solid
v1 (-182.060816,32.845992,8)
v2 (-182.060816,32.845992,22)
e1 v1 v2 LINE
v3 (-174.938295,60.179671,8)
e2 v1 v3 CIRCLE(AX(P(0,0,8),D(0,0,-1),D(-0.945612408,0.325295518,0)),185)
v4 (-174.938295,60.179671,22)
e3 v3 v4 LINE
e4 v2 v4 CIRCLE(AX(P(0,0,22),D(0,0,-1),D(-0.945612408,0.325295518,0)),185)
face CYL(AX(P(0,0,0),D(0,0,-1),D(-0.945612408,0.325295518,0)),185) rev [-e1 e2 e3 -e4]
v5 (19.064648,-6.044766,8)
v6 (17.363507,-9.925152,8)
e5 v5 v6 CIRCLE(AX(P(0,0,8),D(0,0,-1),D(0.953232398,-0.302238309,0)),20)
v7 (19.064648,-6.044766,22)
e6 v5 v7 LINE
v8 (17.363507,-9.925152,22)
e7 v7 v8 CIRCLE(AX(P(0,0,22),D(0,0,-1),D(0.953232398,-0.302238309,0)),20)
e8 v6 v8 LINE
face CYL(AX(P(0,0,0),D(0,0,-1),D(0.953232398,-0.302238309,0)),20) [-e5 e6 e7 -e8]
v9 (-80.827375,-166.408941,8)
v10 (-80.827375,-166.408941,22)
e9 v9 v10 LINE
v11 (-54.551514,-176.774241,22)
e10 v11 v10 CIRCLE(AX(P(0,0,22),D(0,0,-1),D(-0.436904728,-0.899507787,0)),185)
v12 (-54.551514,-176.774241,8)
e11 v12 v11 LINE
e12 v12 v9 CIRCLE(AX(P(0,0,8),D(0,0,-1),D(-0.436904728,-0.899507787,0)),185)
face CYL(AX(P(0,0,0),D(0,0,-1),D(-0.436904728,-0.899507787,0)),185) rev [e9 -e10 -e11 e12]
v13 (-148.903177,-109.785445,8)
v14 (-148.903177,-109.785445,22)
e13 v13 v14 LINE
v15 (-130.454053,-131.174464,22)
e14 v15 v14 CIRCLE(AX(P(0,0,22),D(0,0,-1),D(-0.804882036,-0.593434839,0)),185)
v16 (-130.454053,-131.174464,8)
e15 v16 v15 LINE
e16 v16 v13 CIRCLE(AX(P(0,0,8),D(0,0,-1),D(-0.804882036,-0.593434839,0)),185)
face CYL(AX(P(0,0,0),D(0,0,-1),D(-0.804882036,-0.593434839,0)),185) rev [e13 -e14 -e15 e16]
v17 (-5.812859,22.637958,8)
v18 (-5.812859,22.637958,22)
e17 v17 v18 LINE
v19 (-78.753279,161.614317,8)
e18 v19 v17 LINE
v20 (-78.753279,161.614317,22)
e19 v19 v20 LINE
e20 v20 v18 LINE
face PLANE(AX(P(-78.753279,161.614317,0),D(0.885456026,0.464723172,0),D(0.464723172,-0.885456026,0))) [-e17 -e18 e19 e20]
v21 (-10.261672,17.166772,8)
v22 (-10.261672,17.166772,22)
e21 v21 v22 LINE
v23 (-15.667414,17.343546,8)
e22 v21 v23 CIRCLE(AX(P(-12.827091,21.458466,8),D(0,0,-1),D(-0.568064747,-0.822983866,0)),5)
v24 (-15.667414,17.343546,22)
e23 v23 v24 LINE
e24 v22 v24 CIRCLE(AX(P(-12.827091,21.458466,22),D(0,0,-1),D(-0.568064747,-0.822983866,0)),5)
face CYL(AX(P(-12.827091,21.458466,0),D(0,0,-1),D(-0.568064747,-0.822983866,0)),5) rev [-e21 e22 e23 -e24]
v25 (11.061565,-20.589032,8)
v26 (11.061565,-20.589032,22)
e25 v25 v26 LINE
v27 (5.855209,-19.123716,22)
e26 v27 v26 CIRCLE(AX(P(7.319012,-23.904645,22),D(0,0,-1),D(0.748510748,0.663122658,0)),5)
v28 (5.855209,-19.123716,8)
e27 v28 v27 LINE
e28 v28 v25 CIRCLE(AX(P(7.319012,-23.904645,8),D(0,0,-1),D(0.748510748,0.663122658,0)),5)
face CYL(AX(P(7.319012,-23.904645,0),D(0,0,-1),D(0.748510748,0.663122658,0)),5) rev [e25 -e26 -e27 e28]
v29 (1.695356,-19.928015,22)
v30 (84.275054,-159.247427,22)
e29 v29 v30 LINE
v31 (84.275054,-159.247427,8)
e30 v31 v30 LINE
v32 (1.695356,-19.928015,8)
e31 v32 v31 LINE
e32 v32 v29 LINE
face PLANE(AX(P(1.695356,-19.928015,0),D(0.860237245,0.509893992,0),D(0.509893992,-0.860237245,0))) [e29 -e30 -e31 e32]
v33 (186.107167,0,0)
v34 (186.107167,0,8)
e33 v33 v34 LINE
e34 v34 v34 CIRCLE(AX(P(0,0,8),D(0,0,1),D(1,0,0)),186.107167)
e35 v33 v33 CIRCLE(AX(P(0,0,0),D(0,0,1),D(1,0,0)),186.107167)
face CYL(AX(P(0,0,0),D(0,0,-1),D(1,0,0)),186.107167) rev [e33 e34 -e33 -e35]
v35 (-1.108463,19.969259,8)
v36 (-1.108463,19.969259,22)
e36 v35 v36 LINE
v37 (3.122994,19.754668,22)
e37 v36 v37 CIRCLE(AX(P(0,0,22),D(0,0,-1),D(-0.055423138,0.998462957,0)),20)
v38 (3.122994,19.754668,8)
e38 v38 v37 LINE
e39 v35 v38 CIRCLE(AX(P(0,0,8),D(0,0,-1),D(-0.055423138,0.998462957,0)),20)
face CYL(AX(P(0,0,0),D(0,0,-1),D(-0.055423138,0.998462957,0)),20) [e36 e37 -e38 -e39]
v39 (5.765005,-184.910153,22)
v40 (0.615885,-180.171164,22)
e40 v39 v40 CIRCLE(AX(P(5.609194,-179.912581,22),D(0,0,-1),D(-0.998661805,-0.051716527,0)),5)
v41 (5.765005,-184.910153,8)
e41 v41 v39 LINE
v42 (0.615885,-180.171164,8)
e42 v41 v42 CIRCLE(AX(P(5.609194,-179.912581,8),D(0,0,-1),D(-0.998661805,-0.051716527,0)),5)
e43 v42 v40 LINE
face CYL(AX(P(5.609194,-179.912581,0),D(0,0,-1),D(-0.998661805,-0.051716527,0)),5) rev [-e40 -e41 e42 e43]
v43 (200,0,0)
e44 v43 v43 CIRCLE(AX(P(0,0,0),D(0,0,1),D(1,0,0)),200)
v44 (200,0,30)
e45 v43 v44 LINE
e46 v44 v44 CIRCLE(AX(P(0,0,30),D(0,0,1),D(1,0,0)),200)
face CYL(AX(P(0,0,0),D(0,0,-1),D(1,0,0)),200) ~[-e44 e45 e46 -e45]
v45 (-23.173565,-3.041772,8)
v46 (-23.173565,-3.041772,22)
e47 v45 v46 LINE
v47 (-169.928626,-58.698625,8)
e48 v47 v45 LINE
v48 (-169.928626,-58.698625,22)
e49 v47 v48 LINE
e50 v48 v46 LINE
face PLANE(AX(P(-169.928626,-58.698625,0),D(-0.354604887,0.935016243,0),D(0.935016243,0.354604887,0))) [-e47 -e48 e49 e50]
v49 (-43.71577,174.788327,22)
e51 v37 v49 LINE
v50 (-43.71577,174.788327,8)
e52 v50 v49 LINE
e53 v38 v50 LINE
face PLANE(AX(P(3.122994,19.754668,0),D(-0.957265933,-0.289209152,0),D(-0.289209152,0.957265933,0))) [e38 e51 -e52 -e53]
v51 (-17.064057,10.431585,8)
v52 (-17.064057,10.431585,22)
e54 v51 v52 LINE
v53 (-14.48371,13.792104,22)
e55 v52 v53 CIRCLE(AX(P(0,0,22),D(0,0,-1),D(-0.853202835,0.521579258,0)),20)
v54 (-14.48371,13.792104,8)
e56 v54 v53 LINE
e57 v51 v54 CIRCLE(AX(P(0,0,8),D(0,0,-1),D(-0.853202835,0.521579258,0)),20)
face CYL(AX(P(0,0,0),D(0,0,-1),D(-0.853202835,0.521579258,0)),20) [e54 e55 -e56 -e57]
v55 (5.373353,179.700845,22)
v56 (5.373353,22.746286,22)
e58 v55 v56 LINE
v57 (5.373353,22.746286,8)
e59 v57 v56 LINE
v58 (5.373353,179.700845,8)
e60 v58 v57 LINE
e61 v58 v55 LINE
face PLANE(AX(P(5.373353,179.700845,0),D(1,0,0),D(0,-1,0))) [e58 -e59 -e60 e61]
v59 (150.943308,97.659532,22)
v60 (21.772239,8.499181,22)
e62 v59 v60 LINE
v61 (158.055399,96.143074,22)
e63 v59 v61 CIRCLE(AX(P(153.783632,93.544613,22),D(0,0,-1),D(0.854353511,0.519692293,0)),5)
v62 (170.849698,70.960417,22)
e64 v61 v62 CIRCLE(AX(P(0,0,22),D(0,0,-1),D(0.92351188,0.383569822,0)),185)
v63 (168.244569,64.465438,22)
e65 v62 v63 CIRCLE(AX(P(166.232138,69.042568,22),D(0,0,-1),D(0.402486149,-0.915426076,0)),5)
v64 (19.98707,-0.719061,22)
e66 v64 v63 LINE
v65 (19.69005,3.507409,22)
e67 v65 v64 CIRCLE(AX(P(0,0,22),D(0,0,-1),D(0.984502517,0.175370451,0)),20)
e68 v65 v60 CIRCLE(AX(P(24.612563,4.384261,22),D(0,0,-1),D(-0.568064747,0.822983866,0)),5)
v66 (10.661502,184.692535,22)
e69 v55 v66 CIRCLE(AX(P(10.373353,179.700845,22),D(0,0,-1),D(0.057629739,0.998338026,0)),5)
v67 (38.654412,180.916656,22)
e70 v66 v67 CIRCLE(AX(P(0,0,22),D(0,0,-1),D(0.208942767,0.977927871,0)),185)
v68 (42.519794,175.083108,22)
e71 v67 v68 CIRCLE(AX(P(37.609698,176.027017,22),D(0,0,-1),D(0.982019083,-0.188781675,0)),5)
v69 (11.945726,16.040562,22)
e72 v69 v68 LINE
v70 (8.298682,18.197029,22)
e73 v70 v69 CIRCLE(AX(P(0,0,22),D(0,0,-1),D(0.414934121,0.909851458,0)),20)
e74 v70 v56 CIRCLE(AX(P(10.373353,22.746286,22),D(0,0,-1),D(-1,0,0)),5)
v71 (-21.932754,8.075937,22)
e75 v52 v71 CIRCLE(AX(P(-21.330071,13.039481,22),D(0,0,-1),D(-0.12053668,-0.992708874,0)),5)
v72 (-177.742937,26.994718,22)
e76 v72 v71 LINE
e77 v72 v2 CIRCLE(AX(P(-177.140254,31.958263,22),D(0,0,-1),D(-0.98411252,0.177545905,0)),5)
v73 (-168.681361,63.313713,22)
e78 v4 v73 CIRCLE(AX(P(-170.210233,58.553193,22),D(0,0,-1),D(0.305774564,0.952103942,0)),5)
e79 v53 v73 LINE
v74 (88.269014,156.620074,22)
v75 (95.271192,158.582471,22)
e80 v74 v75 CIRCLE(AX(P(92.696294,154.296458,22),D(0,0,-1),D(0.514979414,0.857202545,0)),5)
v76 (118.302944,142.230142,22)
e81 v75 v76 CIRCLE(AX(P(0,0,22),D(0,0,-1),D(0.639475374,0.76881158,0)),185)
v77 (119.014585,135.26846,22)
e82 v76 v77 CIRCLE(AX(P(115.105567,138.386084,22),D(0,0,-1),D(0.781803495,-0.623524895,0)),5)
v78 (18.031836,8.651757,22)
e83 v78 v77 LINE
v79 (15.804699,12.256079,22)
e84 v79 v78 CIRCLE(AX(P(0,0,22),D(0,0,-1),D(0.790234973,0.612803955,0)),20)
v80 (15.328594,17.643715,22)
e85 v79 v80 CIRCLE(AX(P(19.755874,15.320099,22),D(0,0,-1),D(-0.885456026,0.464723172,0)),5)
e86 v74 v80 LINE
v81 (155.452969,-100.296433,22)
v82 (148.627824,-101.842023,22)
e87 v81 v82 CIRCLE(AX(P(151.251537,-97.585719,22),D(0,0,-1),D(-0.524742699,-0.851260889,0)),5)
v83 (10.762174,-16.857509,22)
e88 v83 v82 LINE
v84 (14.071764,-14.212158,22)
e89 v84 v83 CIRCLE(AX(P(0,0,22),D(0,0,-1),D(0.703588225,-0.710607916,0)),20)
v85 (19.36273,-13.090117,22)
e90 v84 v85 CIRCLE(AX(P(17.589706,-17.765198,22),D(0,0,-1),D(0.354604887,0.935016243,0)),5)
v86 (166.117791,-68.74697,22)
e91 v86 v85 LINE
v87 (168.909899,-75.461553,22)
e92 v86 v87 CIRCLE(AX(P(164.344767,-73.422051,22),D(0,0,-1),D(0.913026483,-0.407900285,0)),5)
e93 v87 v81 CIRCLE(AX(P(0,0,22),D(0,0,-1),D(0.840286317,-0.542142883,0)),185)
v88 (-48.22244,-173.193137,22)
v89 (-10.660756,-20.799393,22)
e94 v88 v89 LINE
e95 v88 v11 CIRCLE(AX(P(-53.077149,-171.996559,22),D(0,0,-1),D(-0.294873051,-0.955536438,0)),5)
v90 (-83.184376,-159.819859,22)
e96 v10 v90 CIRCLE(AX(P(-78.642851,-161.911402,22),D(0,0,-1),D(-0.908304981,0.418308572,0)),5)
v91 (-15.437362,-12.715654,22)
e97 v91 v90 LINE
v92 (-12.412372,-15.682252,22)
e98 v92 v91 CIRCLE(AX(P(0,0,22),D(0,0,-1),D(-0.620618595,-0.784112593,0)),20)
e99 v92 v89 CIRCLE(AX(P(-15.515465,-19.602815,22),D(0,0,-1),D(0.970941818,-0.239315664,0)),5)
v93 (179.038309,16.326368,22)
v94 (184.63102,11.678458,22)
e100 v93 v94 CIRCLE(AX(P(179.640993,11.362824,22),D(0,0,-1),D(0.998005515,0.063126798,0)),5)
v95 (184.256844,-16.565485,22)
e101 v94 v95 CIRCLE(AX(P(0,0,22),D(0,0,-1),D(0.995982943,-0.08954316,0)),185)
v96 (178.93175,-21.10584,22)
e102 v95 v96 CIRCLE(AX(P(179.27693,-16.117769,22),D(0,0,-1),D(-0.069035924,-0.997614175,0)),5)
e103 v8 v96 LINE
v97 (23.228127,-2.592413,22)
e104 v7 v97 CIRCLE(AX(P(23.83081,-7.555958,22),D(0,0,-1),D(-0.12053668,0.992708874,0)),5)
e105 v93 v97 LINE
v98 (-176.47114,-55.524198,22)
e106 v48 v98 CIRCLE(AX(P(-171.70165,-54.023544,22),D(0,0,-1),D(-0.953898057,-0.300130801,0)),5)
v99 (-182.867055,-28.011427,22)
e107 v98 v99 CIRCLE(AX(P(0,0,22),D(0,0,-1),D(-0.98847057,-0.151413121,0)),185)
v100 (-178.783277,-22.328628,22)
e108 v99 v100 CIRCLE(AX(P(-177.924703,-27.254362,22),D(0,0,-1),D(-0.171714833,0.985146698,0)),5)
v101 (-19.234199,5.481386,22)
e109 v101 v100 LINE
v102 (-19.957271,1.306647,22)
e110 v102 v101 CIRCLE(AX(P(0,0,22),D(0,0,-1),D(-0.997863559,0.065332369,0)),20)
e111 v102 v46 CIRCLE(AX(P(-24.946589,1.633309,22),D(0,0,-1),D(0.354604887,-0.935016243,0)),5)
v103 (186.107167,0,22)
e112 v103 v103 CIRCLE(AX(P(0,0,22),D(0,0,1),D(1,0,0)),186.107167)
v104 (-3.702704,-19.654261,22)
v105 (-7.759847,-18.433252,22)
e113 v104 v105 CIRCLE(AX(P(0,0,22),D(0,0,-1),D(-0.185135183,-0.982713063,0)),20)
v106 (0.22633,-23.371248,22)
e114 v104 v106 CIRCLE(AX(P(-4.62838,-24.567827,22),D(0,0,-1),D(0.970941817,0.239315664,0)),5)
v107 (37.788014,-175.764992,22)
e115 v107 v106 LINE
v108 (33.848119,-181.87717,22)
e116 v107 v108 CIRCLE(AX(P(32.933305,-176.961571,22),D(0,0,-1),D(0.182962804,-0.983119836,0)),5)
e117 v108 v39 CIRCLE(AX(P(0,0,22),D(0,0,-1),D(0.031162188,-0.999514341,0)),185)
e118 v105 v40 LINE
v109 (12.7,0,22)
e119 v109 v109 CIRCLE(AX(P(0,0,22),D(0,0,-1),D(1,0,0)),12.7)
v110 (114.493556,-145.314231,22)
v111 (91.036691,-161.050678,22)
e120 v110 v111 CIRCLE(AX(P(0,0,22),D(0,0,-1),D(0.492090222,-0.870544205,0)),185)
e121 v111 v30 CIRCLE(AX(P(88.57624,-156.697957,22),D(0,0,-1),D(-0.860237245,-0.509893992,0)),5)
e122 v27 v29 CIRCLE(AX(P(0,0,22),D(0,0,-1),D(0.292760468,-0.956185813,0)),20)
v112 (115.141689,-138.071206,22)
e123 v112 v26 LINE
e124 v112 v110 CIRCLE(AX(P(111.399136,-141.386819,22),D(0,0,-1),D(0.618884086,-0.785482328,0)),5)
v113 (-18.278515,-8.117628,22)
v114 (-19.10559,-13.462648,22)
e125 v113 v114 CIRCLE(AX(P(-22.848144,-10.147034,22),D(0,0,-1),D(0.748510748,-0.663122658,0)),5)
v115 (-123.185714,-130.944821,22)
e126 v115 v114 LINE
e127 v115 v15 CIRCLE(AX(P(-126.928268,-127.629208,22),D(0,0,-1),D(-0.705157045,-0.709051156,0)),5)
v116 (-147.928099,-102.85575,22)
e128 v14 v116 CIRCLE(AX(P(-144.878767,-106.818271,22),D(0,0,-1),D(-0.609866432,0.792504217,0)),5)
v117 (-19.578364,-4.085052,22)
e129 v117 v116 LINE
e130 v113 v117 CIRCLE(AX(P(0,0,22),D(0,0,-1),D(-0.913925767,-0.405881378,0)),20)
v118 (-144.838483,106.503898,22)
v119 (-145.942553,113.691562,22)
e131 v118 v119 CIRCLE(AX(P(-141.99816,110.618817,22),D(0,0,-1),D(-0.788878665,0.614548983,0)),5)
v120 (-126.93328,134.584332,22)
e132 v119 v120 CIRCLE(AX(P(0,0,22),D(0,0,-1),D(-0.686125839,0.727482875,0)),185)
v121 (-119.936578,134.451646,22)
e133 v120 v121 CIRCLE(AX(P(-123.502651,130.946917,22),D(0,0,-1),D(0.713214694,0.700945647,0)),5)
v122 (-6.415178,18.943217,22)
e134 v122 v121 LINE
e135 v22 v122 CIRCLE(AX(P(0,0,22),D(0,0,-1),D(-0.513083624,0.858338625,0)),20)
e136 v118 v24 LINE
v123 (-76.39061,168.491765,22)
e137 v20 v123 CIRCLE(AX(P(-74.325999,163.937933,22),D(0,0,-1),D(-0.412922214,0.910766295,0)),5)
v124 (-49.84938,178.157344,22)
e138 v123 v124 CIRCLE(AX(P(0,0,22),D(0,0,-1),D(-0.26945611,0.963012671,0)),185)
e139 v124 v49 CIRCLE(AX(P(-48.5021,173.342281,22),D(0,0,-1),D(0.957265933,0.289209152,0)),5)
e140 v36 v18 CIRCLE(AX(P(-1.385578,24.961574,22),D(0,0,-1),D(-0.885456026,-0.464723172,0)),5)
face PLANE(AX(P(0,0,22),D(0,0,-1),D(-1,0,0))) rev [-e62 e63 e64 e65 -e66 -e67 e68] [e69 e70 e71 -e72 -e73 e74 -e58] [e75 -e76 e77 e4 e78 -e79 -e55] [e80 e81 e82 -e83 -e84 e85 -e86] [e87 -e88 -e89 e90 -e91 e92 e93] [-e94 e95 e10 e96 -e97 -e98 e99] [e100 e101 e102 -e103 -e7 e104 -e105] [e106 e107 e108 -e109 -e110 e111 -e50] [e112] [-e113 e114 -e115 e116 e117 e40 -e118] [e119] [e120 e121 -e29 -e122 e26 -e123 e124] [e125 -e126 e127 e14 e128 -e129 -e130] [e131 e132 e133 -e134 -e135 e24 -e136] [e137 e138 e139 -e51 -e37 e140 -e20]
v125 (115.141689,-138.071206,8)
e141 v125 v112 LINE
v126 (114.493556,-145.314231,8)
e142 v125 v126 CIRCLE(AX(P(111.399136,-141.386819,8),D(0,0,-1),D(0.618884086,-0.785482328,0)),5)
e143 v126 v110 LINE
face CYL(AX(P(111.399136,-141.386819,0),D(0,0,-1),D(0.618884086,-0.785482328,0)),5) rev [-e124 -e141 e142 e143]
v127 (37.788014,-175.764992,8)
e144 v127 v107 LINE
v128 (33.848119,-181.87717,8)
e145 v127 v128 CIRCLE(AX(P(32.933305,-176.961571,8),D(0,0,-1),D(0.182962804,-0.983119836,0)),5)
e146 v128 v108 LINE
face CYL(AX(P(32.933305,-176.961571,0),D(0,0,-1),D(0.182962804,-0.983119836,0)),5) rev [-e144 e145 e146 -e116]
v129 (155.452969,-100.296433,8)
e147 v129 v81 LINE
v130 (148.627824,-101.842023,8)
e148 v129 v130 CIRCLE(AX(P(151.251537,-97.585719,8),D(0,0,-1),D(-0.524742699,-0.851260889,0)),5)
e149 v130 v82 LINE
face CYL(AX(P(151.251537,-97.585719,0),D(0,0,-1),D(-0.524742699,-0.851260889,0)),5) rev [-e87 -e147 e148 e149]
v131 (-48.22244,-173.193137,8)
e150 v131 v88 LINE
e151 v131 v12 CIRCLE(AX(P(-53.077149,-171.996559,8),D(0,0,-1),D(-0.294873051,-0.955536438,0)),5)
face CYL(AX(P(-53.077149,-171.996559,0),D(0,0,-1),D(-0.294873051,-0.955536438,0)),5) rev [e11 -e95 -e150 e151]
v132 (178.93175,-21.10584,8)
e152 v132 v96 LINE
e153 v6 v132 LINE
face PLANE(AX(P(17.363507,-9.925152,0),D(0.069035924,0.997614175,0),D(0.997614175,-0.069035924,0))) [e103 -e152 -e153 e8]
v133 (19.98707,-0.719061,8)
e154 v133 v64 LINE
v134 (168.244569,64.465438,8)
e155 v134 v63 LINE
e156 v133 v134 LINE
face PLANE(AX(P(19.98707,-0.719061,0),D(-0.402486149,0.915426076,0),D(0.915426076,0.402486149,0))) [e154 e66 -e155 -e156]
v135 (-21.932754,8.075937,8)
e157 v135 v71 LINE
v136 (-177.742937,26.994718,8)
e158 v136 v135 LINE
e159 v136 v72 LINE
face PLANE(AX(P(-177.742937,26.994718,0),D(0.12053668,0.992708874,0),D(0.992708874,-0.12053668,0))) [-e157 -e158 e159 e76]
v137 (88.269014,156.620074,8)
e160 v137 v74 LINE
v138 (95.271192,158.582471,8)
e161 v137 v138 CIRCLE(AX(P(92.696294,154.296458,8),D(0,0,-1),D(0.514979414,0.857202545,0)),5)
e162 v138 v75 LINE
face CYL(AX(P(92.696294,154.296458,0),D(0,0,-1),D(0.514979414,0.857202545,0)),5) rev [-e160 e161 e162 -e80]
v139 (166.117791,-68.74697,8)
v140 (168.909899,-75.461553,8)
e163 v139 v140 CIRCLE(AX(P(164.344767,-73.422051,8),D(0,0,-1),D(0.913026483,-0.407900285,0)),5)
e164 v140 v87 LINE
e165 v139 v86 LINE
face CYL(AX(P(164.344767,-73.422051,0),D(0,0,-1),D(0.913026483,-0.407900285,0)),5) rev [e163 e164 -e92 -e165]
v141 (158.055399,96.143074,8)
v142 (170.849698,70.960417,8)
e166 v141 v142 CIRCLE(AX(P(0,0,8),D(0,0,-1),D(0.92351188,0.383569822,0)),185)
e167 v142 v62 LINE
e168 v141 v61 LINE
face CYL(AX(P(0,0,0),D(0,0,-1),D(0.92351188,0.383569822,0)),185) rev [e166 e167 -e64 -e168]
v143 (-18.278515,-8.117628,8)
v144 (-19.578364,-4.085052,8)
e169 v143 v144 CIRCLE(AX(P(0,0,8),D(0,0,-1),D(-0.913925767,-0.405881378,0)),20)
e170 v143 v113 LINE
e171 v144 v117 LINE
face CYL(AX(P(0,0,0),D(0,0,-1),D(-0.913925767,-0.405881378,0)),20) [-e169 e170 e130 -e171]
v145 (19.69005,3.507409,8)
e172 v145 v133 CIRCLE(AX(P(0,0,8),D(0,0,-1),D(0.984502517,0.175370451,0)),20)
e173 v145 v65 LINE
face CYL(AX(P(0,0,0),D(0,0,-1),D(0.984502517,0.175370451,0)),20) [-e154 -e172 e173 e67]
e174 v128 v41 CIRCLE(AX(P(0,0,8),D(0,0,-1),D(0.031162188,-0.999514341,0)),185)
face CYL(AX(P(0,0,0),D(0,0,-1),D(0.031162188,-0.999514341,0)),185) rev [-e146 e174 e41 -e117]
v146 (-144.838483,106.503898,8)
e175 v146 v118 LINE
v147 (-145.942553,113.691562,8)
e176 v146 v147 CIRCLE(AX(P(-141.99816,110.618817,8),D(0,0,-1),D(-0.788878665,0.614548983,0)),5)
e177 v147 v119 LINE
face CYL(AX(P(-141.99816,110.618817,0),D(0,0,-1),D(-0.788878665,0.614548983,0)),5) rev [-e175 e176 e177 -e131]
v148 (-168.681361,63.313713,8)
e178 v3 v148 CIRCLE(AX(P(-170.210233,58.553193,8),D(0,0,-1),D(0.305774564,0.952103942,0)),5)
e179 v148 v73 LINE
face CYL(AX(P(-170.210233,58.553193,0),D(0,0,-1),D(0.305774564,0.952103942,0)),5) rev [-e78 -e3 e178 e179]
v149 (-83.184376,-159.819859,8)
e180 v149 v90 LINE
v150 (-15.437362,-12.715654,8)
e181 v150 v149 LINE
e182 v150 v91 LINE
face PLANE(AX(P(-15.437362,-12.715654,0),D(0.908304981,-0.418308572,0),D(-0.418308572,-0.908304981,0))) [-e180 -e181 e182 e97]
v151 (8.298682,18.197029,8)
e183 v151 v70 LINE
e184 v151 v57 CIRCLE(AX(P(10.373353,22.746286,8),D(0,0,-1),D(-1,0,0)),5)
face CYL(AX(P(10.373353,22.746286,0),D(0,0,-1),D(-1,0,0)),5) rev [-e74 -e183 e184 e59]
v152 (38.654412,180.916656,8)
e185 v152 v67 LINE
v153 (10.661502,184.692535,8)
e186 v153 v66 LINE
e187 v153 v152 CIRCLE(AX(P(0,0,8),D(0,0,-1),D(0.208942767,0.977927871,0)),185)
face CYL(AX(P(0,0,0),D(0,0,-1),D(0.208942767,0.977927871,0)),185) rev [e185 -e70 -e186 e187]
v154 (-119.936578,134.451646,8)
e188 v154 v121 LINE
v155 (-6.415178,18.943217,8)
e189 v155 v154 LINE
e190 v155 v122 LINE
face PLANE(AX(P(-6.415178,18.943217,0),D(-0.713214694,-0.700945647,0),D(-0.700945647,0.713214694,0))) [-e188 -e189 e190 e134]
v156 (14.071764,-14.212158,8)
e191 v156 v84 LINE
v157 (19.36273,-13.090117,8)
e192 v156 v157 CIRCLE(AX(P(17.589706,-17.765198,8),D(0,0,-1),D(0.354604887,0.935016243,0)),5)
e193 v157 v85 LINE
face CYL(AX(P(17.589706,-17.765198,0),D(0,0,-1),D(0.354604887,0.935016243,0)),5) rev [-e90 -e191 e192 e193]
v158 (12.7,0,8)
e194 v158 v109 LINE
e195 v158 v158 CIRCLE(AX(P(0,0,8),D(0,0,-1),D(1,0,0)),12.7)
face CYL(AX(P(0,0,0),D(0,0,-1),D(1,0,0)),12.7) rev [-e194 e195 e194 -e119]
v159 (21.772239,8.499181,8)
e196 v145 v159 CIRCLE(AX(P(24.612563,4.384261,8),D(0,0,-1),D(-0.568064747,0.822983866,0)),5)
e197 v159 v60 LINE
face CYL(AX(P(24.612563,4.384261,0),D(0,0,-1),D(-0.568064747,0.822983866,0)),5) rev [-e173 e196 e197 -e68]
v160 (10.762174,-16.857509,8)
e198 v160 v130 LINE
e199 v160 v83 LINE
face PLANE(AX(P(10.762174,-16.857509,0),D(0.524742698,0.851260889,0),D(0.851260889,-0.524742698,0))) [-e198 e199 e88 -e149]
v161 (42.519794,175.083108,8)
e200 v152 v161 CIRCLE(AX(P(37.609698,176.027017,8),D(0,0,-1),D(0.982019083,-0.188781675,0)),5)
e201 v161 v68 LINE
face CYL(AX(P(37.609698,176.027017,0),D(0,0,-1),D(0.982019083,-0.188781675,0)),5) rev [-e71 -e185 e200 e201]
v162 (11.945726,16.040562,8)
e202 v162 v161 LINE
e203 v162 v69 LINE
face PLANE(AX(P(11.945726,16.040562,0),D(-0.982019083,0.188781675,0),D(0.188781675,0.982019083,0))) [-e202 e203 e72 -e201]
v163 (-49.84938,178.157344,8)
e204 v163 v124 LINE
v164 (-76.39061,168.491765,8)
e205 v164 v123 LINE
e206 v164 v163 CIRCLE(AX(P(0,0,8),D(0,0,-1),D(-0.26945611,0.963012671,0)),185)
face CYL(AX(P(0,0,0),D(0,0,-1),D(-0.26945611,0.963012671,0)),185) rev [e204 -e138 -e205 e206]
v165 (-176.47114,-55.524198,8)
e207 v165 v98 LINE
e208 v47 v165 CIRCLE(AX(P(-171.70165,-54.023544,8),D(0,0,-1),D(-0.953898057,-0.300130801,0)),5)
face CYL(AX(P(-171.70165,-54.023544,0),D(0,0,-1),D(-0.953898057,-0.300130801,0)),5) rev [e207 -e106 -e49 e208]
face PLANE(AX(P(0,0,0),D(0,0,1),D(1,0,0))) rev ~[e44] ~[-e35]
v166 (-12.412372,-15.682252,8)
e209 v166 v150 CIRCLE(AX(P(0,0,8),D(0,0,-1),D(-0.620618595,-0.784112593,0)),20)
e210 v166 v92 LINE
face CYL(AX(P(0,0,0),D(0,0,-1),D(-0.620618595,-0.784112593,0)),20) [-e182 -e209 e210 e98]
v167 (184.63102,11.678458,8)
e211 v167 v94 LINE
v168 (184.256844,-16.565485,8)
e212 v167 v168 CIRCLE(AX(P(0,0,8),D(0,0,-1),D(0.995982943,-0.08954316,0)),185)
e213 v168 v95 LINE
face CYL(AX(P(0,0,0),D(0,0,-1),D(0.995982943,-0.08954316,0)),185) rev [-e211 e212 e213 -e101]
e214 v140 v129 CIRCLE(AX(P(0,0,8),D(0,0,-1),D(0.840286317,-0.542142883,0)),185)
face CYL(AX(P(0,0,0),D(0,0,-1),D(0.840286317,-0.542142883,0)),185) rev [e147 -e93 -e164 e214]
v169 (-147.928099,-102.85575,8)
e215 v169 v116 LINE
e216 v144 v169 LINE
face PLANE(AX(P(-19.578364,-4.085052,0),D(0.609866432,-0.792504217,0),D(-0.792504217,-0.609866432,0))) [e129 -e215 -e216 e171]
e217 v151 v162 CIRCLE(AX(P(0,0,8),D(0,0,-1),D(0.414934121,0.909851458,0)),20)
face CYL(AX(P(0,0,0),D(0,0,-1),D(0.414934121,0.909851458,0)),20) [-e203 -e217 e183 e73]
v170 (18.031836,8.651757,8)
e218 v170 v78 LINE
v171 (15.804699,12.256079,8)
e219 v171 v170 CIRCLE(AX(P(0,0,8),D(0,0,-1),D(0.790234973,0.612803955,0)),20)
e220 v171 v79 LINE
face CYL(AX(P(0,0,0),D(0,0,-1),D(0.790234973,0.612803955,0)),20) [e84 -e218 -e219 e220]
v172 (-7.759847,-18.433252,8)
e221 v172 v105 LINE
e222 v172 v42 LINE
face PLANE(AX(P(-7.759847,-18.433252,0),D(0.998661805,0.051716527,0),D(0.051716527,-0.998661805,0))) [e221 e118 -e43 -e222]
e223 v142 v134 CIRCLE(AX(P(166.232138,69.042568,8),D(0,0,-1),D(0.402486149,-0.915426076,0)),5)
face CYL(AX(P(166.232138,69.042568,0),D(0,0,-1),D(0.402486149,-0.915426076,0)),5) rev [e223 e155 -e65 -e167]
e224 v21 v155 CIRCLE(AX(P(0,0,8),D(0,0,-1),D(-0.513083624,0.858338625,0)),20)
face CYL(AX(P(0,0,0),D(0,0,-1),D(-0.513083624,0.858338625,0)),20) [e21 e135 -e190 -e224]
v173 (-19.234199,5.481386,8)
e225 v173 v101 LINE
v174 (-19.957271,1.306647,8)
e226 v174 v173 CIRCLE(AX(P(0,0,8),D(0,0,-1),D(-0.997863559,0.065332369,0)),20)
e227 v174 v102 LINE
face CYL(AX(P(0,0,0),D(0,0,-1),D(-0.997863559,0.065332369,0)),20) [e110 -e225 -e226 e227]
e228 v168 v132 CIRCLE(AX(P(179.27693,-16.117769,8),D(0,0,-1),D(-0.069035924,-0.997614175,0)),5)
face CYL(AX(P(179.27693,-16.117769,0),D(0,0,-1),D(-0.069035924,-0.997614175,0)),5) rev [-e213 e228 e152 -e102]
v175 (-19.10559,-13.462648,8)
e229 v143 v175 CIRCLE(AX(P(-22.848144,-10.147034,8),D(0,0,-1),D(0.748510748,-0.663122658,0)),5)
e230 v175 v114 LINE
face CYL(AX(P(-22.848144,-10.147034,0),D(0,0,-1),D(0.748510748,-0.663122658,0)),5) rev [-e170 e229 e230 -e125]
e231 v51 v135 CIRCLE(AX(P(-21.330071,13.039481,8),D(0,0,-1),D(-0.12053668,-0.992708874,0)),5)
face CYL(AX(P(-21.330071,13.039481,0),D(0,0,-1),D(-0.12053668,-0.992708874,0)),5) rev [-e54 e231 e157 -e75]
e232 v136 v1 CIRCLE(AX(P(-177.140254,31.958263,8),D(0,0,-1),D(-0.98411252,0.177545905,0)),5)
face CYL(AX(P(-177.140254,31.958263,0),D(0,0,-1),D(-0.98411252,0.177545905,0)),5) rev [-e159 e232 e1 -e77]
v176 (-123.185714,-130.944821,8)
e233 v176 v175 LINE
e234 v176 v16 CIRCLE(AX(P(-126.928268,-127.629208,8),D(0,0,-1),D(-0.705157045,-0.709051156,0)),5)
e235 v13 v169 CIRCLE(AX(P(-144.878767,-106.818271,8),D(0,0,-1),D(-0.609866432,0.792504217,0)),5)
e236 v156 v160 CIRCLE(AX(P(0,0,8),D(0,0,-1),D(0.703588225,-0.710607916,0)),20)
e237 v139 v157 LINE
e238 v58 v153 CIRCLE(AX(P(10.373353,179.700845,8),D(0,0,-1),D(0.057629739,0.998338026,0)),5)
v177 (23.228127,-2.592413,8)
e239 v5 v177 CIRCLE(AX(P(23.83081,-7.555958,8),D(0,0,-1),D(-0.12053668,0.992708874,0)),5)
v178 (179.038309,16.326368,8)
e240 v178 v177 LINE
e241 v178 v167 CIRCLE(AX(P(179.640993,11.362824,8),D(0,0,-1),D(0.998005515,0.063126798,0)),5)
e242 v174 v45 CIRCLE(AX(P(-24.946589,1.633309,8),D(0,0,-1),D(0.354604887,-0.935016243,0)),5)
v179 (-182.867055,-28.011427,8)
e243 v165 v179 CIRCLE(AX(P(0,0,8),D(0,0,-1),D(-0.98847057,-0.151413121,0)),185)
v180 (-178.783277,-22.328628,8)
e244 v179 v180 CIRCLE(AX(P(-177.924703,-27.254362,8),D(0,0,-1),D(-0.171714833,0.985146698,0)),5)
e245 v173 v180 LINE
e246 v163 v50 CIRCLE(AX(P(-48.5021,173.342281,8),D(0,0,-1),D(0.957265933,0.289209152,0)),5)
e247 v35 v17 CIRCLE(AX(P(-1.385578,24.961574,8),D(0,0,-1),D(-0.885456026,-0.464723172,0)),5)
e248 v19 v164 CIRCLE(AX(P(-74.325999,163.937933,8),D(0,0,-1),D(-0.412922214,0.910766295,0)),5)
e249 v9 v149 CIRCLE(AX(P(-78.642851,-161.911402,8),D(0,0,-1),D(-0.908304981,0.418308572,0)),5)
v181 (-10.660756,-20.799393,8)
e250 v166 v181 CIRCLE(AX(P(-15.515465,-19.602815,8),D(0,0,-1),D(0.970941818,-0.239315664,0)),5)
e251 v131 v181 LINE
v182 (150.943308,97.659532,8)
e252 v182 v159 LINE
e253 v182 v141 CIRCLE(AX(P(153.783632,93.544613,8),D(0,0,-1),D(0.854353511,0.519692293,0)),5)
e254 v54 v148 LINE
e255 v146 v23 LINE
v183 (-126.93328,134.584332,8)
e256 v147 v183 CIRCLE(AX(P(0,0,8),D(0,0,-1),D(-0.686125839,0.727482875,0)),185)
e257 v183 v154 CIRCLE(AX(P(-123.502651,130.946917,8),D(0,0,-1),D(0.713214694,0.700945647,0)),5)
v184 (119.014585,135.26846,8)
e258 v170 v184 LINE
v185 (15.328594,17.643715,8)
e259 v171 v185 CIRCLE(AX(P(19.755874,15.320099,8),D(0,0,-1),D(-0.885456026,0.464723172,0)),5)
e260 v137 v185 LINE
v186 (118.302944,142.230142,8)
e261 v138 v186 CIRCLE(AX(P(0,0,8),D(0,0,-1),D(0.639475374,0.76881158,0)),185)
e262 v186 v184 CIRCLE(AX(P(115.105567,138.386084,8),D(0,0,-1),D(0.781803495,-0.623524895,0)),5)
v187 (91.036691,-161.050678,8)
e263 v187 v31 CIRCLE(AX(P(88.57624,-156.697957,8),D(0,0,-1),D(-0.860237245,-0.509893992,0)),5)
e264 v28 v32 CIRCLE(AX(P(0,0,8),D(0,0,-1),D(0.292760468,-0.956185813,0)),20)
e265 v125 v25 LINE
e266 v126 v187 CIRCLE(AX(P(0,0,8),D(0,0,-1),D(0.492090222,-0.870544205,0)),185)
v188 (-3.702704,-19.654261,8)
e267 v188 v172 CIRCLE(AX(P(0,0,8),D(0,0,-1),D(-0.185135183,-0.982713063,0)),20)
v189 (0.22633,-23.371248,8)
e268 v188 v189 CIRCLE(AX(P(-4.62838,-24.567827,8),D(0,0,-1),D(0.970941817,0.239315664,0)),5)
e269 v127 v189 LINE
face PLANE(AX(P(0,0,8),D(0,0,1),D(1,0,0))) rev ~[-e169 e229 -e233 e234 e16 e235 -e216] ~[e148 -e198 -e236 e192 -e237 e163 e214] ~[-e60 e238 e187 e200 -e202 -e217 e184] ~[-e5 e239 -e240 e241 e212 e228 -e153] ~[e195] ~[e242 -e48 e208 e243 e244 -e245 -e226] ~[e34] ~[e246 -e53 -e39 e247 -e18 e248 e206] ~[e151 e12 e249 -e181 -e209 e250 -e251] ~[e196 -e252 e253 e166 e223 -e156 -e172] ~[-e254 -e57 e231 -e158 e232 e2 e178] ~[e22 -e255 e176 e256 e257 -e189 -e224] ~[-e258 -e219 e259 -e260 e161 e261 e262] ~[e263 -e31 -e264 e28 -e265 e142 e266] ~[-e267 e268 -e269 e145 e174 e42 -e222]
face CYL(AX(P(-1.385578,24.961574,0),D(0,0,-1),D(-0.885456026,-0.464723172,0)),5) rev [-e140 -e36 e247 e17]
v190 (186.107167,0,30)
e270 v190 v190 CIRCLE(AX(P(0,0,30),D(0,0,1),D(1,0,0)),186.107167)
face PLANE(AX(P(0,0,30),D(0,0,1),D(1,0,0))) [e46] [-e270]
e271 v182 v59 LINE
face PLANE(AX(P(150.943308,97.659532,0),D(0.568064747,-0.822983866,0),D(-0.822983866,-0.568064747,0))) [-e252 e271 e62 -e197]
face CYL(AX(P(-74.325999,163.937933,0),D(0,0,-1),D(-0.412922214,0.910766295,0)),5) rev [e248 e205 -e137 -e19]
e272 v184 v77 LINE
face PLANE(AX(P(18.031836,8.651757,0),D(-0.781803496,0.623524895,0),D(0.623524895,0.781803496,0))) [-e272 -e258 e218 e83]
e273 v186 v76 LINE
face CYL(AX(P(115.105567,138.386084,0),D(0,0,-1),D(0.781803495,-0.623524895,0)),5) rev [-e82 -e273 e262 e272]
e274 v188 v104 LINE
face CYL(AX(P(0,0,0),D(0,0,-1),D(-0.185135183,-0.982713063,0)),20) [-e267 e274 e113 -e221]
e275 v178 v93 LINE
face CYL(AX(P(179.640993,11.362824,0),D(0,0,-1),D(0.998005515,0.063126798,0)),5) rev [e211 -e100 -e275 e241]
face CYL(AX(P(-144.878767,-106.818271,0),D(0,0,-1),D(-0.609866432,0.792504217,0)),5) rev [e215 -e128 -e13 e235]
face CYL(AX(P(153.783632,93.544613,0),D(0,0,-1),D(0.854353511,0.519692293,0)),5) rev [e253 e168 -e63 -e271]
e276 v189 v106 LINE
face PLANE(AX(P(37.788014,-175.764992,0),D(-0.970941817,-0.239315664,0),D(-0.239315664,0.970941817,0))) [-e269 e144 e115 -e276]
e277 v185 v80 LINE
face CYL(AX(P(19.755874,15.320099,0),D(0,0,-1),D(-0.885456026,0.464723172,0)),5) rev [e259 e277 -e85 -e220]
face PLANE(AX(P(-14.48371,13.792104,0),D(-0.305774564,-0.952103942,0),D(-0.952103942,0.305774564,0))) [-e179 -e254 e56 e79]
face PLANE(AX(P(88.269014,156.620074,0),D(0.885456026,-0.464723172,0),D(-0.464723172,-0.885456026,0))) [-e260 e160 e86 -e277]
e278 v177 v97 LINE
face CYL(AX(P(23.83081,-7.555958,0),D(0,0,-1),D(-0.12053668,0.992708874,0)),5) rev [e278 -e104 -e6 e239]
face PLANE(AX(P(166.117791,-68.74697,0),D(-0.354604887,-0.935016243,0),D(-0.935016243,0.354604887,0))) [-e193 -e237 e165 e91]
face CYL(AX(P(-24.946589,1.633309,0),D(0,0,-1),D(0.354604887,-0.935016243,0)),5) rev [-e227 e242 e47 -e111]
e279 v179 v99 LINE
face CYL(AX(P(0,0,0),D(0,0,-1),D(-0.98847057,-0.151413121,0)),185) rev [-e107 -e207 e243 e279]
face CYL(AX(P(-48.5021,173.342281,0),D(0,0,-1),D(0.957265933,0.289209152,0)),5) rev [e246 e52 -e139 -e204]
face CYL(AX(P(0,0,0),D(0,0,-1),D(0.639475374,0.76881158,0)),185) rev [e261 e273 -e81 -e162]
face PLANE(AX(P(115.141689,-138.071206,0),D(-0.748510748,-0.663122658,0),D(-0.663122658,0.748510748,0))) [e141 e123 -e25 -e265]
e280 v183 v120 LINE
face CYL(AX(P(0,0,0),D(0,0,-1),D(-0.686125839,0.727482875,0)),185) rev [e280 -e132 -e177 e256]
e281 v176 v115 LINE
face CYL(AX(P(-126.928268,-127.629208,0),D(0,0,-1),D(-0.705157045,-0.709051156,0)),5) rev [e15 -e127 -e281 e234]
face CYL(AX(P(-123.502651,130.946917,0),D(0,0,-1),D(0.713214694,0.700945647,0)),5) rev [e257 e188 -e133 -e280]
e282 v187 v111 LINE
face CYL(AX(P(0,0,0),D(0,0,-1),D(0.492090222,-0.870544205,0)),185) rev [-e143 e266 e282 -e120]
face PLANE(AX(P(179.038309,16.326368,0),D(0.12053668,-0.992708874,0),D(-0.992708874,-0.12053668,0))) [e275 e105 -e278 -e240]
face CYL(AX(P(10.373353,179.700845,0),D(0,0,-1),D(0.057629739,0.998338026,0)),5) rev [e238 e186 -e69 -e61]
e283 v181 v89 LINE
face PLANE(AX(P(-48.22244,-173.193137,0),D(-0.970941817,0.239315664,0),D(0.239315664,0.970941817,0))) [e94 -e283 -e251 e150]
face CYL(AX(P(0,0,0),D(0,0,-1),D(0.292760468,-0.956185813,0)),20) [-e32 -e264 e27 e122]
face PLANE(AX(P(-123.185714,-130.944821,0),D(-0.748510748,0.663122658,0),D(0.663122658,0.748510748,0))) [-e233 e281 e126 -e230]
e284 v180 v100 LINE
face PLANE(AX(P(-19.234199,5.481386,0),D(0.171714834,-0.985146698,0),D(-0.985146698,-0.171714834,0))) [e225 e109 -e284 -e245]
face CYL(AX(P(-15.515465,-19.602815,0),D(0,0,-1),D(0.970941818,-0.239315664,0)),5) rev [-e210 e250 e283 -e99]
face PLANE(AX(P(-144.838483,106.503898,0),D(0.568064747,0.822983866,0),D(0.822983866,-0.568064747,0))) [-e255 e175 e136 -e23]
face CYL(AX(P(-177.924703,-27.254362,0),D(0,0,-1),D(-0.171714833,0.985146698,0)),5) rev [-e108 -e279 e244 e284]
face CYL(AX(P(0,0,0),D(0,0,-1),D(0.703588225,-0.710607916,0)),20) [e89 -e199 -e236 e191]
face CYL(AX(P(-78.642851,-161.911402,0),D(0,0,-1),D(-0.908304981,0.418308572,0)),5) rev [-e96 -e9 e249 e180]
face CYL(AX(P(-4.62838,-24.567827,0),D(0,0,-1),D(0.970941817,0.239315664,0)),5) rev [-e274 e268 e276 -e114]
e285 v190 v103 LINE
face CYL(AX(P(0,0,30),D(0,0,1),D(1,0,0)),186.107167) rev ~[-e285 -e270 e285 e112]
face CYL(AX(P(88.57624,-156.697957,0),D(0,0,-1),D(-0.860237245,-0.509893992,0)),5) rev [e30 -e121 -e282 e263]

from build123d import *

# Parameters (mm, degrees)
SKETCH1_R           = 200
SKETCH1_R_2         = 12.7
BOSS_EXTRUDE1_DEPTH = 30
SKETCH2_R           = 186.107166766
CUT_EXTRUDE3_DEPTH  = 8


with BuildPart() as part:
    # Sketch1 → Boss-Extrude1 (new body)
    with BuildSketch(Plane.XY):
        Circle(SKETCH1_R)
        Circle(SKETCH1_R_2, mode=Mode.SUBTRACT)
        with BuildLine():
            Line((5.373353022, 179.700844592), (5.373353022, 22.746286446))
            ThreePointArc((5.373353022, 22.746286446), (6.167799965, 20.041970731), (8.298682417, 18.197029157))
            ThreePointArc((8.298682417, 18.197029157), (10.179469581, 17.215644021), (11.945725569, 16.040562354))
            Line((11.945725569, 16.040562354), (42.519793553, 175.083108319))
            ThreePointArc((42.519793553, 175.083108319), (41.777732217, 178.788808127), (38.654411976, 180.916656046))
            ThreePointArc((38.654411976, 180.916656046), (24.73012638, 183.339632511), (10.661501717, 184.69253472))
            ThreePointArc((10.661501717, 184.69253472), (6.941206716, 183.336827504), (5.373353022, 179.700844592))
        make_face(mode=Mode.SUBTRACT)
        with BuildLine():
            Line((88.269014329, 156.620073998), (15.3285942, 17.643714734))
            ThreePointArc((15.3285942, 17.643714734), (14.775283856, 14.879964185), (15.804699463, 12.256079099))
            ThreePointArc((15.804699463, 12.256079099), (17.013981377, 10.51306034), (18.031835705, 8.651757112))
            Line((18.031835705, 8.651757112), (119.01458488, 135.268459916))
            ThreePointArc((119.01458488, 135.268459916), (120.079646768, 138.894547239), (118.302944275, 142.23014229))
            ThreePointArc((118.302944275, 142.23014229), (107.099615, 150.846519571), (95.271191525, 158.582470864))
            ThreePointArc((95.271191525, 158.582470864), (91.347005342, 159.110959035), (88.269014329, 156.620073998))
        make_face(mode=Mode.SUBTRACT)
        with BuildLine():
            Line((150.94330821, 97.659531928), (21.772239177, 8.499180607))
            ThreePointArc((21.772239177, 8.499180607), (19.997928277, 6.309137168), (19.690050329, 3.507409022))
            ThreePointArc((19.690050329, 3.507409022), (19.950795079, 1.402061232), (19.987069587, -0.719061419))
            Line((19.987069587, -0.719061419), (168.244569093, 64.465437509))
            ThreePointArc((168.244569093, 64.465437509), (170.872761362, 67.181219439), (170.849697746, 70.960416994))
            ThreePointArc((170.849697746, 70.960416994), (164.933872514, 83.796286896), (158.055399498, 96.14307406))
            ThreePointArc((158.055399498, 96.14307406), (154.826305895, 98.434687345), (150.94330821, 97.659531928))
        make_face(mode=Mode.SUBTRACT)
        with BuildLine():
            Line((179.038309244, 16.326368018), (23.228126543, -2.592413372))
            ThreePointArc((23.228126543, -2.592413372), (20.639288331, -3.707037141), (19.064647955, -6.044766194))
            ThreePointArc((19.064647955, -6.044766194), (18.317122063, -8.030133208), (17.363506697, -9.925151645))
            Line((17.363506697, -9.925151645), (178.931750093, -21.10583974))
            ThreePointArc((178.931750093, -21.10583974), (182.520985567, -19.922516113), (184.256844426, -16.565484669))
            ThreePointArc((184.256844426, -16.565484669), (184.983767504, -2.450665253), (184.631020219, 11.678457638))
            ThreePointArc((184.631020219, 11.678457638), (182.836765627, 15.208215052), (179.038309244, 16.326368018))
        make_face(mode=Mode.SUBTRACT)
        with BuildLine():
            Line((166.117791277, -68.746970051), (19.362730047, -13.090116689))
            ThreePointArc((19.362730047, -13.090116689), (16.552436159, -12.873973916), (14.071764489, -14.212158322))
            ThreePointArc((14.071764489, -14.212158322), (12.487217127, -15.622720904), (10.762173676, -16.85750924))
            Line((10.762173676, -16.85750924), (148.627823508, -101.842023456))
            ThreePointArc((148.627823508, -101.842023456), (152.355851595, -102.462243316), (155.452968583, -100.29643343))
            ThreePointArc((155.452968583, -100.29643343), (162.656110654, -88.136199526), (168.909899254, -75.461552688))
            ThreePointArc((168.909899254, -75.461552688), (168.961525775, -71.502276031), (166.117791277, -68.746970051))
        make_face(mode=Mode.SUBTRACT)
        with BuildLine():
            Line((115.141689264, -138.071205772), (11.061565443, -20.589032025))
            ThreePointArc((11.061565443, -20.589032025), (8.673620341, -19.091638415), (5.855209362, -19.123716253))
            ThreePointArc((5.855209362, -19.123716253), (3.796641234, -19.636331514), (1.695356364, -19.928014623))
            Line((1.695356364, -19.928014623), (84.275053717, -159.247426929))
            ThreePointArc((84.275053717, -159.247426929), (87.28782811, -161.529105379), (91.036691049, -161.050677996))
            ThreePointArc((91.036691049, -161.050677996), (103.065899072, -153.630792644), (114.493555954, -145.314230704))
            ThreePointArc((114.493555954, -145.314230704), (116.379236576, -141.832457371), (115.141689264, -138.071205772))
        make_face(mode=Mode.SUBTRACT)
        with BuildLine():
            Line((37.788013848, -175.764992189), (0.226329502, -23.37124825))
            ThreePointArc((0.226329502, -23.37124825), (-1.192217369, -20.935638632), (-3.702703668, -19.654261257))
            ThreePointArc((-3.702703668, -19.654261257), (-5.76369941, -19.151495219), (-7.75984666, -18.433252014))
            Line((-7.75984666, -18.433252014), (0.615884744, -180.171164031))
            ThreePointArc((0.615884744, -180.171164031), (2.223215138, -183.591596036), (5.765004707, -184.910153103))
            ThreePointArc((5.765004707, -184.910153103), (19.864532092, -183.930422619), (33.848118782, -181.877169691))
            ThreePointArc((33.848118782, -181.877169691), (37.135866798, -179.670531994), (37.788013848, -175.764992189))
        make_face(mode=Mode.SUBTRACT)
        with BuildLine():
            Line((-48.222440145, -173.193137093), (-10.660755799, -20.799393154))
            ThreePointArc((-10.660755799, -20.799393154), (-10.784932447, -17.98353634), (-12.412371909, -15.682251866))
            ThreePointArc((-12.412371909, -15.682251866), (-14.00364598, -14.279282169), (-15.43736233, -12.715653514))
            Line((-15.43736233, -12.715653514), (-83.184376002, -159.819858752))
            ThreePointArc((-83.184376002, -159.819858752), (-83.350709631, -163.59546456), (-80.827374738, -166.408940544))
            ThreePointArc((-80.827374738, -166.408940544), (-67.887559797, -172.093809374), (-54.551514489, -176.77424096))
            ThreePointArc((-54.551514489, -176.77424096), (-50.614882527, -176.348253002), (-48.222440145, -173.193137093))
        make_face(mode=Mode.SUBTRACT)
        with BuildLine():
            Line((-123.185714244, -130.944821493), (-19.105590424, -13.462647747))
            ThreePointArc((-19.105590424, -13.462647747), (-17.906949474, -10.911622598), (-18.278515332, -8.117627564))
            ThreePointArc((-18.278515332, -8.117627564), (-19.035526018, -6.135857658), (-19.578364331, -4.085052034))
            Line((-19.578364331, -4.085052034), (-147.928098686, -102.855749871))
            ThreePointArc((-147.928098686, -102.855749871), (-149.829991307, -106.121583693), (-148.903176705, -109.785445151))
            ThreePointArc((-148.903176705, -109.785445151), (-140.087429871, -120.832578356), (-130.454053207, -131.174463985))
            ThreePointArc((-130.454053207, -131.174463985), (-126.77037224, -132.626714474), (-123.185714244, -130.944821493))
        make_face(mode=Mode.SUBTRACT)
        with BuildLine():
            Line((-169.928625759, -58.698625345), (-23.173564529, -3.041771983))
            ThreePointArc((-23.173564529, -3.041771983), (-20.926700178, -1.339987618), (-19.957271172, 1.306647384))
            ThreePointArc((-19.957271172, 1.306647384), (-19.706596449, 3.413217897), (-19.234199009, 5.481385637))
            Line((-19.234199009, 5.481385637), (-178.783276688, -22.328628241))
            ThreePointArc((-178.783276688, -22.328628241), (-181.985027623, -24.336526905), (-182.867055368, -28.011427332))
            ThreePointArc((-182.867055368, -28.011427332), (-180.194957997, -41.890059828), (-176.471140477, -55.524198135))
            ThreePointArc((-176.471140477, -55.524198135), (-173.884297422, -58.521993984), (-169.928625759, -58.698625345))
        make_face(mode=Mode.SUBTRACT)
        with BuildLine():
            Line((-177.742936974, 26.994718474), (-21.932754273, 8.075937085))
            ThreePointArc((-21.932754273, 8.075937085), (-19.152396066, 8.538622377), (-17.064056697, 10.431585164))
            ThreePointArc((-17.064056697, 10.431585164), (-15.863123123, 12.180366365), (-14.483710491, 13.792103916))
            Line((-14.483710491, 13.792103916), (-168.681360573, 63.313713031))
            ThreePointArc((-168.681360573, 63.313713031), (-172.449487267, 63.02373491), (-174.938295432, 60.179670914))
            ThreePointArc((-174.938295432, 60.179670914), (-179.021992831, 46.648966577), (-182.060816172, 32.845992368))
            ThreePointArc((-182.060816172, 32.845992368), (-181.163425598, 28.98941006), (-177.742936974, 26.994718474))
        make_face(mode=Mode.SUBTRACT)
        with BuildLine():
            Line((-144.838483363, 106.503897613), (-15.667414331, 17.343546292))
            ThreePointArc((-15.667414331, 17.343546292), (-12.990508827, 16.461136886), (-10.261672478, 17.166772497))
            ThreePointArc((-10.261672478, 17.166772497), (-8.385599461, 18.157139689), (-6.415178447, 18.943217401))
            Line((-6.415178447, 18.943217401), (-119.936577581, 134.45164566))
            ThreePointArc((-119.936577581, 134.45164566), (-123.40784762, 135.946018575), (-126.933280248, 134.584331798))
            ThreePointArc((-126.933280248, 134.584331798), (-136.837246557, 124.50127692), (-145.942552953, 113.691561858))
            ThreePointArc((-145.942552953, 113.691561858), (-146.940196225, 109.85968962), (-144.838483363, 106.503897613))
        make_face(mode=Mode.SUBTRACT)
        with BuildLine():
            Line((-78.753278707, 161.61431732), (-5.812858579, 22.637958056))
            ThreePointArc((-5.812858579, 22.637958056), (-3.852652568, 20.612603314), (-1.10846276, 19.969259133))
            ThreePointArc((-1.10846276, 19.969259133), (1.01296398, 19.974331127), (3.122993668, 19.75466807))
            Line((3.122993668, 19.75466807), (-43.715770058, 174.788326586))
            ThreePointArc((-43.715770058, 174.788326586), (-46.094957309, 177.724707712), (-49.849380271, 178.157344184))
            ThreePointArc((-49.849380271, 178.157344184), (-63.304736163, 173.831845124), (-76.39060965, 168.491764657))
            ThreePointArc((-76.39060965, 168.491764657), (-79.054738718, 165.562438241), (-78.753278707, 161.61431732))
        make_face(mode=Mode.SUBTRACT)
    extrude(amount=BOSS_EXTRUDE1_DEPTH)

    # Sketch2 → Cut-Extrude3 (cut)
    with BuildSketch(Plane.XY):
        Circle(SKETCH2_R)
    cut_extrude3 = extrude(amount=CUT_EXTRUDE3_DEPTH, mode=Mode.SUBTRACT)

    # Mirror1: Cut-Extrude3 across plane
    add(cut_extrude3.mirror(Plane.XY.offset(15)), mode=Mode.SUBTRACT)


solid = part.part
